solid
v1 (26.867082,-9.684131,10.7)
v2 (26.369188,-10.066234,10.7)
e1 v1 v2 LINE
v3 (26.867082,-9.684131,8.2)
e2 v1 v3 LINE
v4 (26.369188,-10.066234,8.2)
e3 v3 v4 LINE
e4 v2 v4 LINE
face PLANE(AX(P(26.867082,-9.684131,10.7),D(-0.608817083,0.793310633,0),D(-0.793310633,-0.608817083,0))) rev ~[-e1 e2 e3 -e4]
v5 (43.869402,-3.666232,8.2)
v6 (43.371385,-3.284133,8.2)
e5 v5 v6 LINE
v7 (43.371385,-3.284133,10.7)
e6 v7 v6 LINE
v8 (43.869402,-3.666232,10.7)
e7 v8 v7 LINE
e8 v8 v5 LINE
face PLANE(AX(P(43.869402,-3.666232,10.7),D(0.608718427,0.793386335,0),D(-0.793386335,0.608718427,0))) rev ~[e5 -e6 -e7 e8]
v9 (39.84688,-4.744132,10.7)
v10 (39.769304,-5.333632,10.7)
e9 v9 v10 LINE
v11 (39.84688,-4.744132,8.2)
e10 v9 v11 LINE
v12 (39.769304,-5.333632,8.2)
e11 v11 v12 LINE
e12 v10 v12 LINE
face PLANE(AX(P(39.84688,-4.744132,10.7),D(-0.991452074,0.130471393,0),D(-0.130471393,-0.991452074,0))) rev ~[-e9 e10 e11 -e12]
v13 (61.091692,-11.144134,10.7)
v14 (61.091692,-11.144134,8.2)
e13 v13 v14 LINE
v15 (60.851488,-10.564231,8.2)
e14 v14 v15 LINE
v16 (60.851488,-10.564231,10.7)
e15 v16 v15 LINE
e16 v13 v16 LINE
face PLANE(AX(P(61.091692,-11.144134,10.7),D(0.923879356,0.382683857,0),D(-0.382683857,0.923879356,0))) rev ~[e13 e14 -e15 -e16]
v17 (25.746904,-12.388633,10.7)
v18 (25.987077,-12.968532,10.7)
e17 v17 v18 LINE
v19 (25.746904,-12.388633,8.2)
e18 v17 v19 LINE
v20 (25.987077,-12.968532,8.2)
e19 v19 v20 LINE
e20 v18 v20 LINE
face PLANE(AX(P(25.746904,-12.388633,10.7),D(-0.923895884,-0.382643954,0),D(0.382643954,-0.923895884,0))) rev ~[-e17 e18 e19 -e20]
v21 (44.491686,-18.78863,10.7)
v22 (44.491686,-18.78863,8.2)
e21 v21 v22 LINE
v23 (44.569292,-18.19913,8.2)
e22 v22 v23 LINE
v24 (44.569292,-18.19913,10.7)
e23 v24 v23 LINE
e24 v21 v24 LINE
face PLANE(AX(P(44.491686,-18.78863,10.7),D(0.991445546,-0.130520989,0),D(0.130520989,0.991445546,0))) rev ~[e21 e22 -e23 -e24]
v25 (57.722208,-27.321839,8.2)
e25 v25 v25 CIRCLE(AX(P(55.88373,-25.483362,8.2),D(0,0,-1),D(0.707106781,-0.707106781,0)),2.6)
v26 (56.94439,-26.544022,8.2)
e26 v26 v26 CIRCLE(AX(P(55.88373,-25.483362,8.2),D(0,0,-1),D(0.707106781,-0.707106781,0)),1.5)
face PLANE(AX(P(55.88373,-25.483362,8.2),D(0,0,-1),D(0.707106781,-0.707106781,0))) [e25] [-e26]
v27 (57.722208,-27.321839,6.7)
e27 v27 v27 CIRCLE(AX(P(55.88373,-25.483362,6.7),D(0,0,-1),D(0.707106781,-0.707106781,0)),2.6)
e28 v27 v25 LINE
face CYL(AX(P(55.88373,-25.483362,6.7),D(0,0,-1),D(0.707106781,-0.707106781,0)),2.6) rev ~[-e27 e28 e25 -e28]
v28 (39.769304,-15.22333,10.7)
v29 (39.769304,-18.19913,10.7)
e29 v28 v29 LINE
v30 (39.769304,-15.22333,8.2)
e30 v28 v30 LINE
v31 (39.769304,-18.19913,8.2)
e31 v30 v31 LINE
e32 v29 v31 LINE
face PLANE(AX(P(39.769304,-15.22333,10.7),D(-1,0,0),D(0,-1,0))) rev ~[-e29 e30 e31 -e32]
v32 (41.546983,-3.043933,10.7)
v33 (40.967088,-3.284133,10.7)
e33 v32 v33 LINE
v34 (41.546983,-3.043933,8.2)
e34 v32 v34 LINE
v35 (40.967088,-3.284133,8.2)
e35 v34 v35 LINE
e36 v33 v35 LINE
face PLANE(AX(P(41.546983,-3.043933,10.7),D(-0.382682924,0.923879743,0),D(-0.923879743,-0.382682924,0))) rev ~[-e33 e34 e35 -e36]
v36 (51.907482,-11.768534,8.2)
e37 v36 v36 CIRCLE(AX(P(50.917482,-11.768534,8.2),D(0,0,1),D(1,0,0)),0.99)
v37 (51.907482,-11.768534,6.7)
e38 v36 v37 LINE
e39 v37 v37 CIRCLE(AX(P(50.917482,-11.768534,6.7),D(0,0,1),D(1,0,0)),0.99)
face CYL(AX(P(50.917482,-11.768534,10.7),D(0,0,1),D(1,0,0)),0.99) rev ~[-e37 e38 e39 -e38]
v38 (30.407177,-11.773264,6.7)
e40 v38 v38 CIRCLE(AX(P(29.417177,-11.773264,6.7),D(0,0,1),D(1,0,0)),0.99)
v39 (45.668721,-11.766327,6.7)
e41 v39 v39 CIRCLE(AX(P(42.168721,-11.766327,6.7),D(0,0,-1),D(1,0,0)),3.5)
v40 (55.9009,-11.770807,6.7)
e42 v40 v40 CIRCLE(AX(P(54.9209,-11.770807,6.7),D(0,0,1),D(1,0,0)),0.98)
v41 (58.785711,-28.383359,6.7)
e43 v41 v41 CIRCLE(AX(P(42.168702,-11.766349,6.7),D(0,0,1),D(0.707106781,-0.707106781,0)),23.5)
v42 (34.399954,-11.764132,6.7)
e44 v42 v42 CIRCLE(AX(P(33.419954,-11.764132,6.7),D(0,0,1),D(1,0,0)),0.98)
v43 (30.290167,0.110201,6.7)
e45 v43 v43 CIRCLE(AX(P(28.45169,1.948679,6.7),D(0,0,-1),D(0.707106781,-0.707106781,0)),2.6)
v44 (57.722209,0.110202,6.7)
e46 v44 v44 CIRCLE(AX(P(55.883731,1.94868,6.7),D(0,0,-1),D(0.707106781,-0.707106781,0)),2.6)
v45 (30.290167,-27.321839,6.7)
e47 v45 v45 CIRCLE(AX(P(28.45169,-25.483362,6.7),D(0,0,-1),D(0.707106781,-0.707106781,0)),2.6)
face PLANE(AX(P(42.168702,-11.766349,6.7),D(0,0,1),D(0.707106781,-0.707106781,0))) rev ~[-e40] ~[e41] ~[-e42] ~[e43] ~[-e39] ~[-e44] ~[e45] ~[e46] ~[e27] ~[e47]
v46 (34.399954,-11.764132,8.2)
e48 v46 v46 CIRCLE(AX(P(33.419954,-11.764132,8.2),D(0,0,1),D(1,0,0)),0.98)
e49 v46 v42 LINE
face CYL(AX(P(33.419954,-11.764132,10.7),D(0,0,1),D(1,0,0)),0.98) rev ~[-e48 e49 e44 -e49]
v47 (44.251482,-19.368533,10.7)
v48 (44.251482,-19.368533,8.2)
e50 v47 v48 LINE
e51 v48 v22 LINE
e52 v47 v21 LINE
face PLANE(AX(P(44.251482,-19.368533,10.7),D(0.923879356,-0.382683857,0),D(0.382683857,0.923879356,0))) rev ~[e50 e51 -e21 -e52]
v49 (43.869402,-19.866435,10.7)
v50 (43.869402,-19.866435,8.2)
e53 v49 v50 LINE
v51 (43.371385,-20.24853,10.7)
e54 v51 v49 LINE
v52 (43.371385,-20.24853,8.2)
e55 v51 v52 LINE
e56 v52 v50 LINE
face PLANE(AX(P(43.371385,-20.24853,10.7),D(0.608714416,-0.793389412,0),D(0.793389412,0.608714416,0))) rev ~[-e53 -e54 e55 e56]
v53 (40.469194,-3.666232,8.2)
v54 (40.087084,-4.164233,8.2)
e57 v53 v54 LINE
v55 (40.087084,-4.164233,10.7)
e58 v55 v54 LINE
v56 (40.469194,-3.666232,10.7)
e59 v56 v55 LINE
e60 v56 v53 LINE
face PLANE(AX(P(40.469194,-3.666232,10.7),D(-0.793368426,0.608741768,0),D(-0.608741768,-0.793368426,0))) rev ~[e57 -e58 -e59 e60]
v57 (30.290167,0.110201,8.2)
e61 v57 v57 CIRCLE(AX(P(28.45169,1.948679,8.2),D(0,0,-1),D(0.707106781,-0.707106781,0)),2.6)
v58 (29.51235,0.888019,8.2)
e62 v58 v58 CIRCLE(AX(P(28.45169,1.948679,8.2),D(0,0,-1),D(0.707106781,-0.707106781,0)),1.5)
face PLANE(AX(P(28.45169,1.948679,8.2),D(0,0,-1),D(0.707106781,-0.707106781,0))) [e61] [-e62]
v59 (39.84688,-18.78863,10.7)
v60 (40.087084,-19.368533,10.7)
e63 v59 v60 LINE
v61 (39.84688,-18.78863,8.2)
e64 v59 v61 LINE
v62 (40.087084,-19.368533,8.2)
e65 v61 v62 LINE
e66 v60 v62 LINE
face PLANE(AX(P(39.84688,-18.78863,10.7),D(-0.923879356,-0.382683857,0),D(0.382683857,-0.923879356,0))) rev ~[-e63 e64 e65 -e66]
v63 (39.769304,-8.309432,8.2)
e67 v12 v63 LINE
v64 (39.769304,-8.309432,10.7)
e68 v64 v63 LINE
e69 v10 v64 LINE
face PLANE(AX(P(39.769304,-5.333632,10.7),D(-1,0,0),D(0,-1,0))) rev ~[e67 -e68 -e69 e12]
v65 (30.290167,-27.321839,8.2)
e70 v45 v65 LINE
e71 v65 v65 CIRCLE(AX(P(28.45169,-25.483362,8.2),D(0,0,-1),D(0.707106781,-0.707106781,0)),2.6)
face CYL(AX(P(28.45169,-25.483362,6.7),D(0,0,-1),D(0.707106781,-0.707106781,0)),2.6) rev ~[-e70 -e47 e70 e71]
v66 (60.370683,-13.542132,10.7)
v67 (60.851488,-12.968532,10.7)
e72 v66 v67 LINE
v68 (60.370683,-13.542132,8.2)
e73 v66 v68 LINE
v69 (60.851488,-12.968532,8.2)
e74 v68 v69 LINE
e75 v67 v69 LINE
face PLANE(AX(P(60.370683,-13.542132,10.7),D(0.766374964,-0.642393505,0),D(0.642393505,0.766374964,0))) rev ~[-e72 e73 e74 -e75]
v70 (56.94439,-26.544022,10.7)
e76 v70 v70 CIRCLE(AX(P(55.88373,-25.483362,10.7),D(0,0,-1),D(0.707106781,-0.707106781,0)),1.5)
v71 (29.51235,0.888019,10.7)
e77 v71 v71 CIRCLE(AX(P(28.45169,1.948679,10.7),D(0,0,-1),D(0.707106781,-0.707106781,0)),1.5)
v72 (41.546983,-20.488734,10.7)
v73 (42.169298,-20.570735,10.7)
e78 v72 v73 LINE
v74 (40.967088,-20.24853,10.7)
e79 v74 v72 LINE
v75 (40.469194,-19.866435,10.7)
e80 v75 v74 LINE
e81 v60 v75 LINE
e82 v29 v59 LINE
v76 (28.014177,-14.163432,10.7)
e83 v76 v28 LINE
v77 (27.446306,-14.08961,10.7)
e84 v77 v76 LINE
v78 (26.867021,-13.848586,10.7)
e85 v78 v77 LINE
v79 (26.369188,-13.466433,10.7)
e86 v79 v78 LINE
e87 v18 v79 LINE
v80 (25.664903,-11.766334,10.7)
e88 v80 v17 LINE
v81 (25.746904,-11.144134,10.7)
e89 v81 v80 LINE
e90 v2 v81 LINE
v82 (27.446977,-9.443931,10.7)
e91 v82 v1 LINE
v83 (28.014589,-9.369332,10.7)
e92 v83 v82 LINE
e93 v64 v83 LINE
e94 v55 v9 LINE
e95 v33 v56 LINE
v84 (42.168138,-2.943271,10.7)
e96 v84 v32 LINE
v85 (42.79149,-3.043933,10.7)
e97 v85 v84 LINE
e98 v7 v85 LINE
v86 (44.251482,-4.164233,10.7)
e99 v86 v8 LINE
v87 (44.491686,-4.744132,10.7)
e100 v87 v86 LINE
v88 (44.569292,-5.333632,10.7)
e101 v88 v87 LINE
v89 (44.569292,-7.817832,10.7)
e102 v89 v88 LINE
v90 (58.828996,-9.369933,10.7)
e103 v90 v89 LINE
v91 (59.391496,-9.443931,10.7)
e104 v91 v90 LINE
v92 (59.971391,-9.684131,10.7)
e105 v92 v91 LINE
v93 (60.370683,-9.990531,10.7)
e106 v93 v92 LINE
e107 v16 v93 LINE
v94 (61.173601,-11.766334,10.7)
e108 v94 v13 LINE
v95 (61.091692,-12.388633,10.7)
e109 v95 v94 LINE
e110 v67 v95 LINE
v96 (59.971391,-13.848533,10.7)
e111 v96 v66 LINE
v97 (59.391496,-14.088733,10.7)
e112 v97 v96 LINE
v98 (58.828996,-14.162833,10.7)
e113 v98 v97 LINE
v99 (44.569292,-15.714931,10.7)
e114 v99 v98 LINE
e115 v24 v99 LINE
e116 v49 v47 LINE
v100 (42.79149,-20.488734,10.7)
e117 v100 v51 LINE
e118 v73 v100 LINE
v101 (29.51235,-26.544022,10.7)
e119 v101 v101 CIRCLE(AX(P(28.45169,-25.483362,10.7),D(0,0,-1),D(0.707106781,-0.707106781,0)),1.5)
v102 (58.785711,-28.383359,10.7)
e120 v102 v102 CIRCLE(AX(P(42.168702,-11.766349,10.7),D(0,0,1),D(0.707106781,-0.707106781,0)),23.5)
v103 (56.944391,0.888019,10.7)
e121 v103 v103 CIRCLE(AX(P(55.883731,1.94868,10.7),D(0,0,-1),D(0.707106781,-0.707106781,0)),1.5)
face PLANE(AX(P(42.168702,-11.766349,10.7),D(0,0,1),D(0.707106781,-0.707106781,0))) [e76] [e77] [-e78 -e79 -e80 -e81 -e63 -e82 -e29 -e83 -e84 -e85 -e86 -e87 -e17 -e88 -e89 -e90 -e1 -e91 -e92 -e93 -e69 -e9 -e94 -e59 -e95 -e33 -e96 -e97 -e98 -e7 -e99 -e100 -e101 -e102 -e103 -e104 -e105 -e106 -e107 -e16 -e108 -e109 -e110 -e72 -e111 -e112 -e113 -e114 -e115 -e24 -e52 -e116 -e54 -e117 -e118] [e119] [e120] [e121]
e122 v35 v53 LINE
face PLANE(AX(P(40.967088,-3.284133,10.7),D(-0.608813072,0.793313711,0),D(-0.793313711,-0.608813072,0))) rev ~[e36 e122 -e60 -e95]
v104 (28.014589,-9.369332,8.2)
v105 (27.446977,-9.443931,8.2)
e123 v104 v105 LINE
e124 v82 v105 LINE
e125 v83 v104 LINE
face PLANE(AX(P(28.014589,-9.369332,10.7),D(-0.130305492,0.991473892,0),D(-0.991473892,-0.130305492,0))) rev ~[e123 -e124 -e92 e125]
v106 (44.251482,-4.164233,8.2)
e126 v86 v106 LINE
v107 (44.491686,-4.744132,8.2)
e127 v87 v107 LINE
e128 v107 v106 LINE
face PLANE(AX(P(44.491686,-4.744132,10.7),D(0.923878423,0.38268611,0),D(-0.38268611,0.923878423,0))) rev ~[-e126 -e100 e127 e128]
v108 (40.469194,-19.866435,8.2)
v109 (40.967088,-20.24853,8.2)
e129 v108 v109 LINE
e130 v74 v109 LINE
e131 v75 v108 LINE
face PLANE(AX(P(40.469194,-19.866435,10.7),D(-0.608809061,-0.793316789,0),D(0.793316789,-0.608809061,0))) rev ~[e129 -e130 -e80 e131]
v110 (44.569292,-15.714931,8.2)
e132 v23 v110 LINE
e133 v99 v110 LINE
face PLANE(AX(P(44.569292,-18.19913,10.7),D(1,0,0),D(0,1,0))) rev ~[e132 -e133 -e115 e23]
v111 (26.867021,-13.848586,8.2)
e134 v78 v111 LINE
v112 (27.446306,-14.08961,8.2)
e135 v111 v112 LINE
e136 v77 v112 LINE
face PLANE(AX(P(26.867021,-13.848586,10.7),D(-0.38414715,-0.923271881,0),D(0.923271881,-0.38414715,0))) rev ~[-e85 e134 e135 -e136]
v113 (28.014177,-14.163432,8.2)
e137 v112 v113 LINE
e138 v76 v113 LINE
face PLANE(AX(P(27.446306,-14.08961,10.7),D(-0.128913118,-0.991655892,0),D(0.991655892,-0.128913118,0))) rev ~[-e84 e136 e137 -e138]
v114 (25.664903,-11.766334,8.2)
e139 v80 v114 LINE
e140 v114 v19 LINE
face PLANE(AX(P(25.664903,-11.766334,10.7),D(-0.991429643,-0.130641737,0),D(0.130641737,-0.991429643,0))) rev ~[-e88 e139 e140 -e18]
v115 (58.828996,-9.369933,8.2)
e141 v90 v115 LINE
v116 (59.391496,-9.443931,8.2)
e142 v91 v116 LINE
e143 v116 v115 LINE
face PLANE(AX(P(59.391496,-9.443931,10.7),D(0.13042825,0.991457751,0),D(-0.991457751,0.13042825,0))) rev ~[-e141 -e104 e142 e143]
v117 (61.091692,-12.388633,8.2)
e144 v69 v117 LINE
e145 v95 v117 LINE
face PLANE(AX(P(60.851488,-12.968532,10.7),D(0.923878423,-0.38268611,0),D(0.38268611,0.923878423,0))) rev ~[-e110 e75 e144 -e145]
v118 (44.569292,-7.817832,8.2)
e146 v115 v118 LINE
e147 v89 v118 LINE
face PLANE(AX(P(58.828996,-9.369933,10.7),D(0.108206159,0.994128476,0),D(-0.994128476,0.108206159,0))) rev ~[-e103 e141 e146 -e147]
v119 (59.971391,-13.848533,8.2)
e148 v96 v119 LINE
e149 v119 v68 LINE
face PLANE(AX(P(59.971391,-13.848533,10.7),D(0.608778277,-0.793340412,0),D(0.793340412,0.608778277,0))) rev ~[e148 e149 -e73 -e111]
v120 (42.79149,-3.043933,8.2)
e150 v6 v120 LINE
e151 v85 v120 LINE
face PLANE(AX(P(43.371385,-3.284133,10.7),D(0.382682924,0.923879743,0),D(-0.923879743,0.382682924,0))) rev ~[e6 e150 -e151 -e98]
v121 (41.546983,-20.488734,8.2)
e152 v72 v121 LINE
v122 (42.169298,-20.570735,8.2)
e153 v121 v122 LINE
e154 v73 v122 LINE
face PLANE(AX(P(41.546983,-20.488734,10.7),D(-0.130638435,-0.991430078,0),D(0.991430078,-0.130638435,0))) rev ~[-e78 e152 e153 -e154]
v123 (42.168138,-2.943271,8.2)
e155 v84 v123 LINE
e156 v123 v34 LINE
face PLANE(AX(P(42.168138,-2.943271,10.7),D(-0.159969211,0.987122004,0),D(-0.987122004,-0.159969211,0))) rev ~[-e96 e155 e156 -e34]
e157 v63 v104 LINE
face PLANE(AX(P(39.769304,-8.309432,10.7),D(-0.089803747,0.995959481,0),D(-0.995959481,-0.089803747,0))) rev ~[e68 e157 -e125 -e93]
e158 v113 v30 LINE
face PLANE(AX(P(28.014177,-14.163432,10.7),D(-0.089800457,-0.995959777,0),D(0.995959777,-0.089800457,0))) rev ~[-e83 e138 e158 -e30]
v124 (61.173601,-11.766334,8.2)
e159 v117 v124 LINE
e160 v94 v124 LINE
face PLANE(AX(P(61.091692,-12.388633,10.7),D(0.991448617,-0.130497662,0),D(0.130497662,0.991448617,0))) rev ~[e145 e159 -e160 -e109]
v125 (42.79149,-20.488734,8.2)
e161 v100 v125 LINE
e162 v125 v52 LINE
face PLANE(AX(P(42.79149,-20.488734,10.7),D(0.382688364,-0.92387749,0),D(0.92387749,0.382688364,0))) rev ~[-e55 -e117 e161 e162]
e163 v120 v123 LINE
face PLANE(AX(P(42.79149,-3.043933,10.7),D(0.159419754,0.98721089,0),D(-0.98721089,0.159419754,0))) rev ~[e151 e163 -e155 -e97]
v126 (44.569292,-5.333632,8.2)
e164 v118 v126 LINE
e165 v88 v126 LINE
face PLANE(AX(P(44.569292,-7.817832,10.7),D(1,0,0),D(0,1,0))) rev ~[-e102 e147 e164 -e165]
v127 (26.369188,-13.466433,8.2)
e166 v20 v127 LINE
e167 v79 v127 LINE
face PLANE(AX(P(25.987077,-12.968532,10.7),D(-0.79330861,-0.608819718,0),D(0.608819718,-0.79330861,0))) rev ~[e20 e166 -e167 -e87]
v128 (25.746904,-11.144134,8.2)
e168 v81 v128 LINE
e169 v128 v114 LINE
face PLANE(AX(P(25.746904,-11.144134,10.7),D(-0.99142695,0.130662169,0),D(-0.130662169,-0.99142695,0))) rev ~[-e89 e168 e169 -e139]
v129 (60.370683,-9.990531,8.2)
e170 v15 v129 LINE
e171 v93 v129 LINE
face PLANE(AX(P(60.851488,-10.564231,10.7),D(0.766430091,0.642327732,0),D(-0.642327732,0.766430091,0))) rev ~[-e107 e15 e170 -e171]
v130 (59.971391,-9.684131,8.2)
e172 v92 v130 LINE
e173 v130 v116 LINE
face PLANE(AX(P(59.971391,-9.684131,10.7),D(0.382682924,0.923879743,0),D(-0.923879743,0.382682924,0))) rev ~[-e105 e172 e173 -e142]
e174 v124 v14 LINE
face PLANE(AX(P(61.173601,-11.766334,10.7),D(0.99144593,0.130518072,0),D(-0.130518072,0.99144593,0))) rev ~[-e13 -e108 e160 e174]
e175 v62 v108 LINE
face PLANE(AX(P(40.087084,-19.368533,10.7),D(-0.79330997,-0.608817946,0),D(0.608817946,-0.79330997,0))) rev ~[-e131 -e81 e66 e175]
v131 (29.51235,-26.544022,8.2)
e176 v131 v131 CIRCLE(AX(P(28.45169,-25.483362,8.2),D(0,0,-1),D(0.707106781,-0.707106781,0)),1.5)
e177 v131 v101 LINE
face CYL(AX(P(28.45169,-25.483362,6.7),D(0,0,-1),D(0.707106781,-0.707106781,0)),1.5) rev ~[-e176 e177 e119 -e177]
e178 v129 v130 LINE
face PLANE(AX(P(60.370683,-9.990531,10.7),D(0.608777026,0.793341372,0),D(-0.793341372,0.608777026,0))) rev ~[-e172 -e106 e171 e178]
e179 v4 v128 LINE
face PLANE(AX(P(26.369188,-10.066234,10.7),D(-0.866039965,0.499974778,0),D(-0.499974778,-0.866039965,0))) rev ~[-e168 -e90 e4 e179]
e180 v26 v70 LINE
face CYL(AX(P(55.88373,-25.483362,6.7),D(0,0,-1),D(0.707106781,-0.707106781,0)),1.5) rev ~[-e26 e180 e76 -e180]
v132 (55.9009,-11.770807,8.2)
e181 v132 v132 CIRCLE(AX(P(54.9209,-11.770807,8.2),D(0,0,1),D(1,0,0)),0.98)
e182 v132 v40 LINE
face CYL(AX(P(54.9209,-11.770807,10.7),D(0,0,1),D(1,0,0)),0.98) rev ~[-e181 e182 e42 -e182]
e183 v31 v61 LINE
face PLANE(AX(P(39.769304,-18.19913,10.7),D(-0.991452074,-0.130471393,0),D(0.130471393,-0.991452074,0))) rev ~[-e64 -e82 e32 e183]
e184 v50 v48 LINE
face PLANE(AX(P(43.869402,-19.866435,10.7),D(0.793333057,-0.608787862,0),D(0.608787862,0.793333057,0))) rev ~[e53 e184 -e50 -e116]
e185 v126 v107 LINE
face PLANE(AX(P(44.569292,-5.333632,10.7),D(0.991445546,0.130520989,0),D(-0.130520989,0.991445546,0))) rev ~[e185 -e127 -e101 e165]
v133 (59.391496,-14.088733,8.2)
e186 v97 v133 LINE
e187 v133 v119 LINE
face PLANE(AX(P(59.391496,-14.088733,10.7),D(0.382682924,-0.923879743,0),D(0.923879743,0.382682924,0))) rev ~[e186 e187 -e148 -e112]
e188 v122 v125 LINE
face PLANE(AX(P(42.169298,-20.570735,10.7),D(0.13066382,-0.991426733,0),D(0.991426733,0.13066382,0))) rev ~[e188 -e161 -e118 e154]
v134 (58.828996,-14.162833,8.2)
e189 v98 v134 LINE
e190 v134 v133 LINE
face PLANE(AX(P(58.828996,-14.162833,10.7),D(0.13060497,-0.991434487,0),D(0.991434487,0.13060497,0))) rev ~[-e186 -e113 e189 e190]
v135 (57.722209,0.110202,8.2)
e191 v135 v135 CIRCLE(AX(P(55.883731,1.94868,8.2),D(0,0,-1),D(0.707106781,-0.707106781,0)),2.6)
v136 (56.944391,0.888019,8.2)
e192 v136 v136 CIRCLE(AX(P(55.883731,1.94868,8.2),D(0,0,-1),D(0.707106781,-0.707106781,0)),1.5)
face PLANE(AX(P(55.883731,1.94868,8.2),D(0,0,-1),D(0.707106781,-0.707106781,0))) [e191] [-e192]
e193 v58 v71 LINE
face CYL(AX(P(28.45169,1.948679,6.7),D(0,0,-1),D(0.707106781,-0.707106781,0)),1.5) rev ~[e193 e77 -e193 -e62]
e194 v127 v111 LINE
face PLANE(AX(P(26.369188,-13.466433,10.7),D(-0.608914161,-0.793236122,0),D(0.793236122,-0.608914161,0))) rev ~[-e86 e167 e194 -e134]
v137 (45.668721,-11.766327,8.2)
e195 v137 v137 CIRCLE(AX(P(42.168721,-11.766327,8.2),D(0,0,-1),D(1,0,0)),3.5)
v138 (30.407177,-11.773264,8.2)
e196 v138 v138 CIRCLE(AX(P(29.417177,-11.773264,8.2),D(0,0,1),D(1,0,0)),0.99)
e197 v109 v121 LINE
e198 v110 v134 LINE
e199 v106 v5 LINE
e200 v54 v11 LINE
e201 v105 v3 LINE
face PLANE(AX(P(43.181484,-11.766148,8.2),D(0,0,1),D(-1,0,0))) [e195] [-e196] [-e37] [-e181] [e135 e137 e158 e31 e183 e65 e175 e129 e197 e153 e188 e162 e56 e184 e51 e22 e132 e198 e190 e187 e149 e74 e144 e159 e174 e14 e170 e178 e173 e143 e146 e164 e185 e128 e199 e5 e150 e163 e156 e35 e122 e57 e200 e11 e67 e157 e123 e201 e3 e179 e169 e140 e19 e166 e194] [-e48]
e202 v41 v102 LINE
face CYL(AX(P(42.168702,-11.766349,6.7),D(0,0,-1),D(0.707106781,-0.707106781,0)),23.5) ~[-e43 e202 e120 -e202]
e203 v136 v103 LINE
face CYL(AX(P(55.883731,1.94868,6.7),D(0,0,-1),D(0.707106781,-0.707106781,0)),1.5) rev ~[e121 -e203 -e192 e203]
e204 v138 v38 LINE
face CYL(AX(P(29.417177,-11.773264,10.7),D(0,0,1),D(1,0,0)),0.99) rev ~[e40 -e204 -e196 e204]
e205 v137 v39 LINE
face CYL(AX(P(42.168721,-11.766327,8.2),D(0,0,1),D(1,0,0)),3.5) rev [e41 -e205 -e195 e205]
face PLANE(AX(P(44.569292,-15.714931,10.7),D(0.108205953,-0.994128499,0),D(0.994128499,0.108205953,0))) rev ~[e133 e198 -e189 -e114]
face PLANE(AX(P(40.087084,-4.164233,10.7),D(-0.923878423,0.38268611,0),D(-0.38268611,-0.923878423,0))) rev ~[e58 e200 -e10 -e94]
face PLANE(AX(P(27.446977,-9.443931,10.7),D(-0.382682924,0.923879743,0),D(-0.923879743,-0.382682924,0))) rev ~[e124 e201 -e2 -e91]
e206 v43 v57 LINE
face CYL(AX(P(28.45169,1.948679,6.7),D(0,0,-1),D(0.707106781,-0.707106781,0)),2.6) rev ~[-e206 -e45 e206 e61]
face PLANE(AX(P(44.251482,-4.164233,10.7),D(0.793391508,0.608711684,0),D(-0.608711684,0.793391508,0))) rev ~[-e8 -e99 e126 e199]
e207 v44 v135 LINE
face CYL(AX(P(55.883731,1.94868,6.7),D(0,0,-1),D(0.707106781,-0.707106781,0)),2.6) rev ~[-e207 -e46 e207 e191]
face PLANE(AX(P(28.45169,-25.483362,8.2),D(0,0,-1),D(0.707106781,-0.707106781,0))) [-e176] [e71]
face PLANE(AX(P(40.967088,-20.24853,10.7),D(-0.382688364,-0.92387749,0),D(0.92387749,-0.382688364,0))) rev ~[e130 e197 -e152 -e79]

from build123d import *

# Parameters (mm, degrees)
CIRCLE001_R            = 0.99
EXTRUDE060_DEPTH       = 4
CIRCLE002_R            = 0.98
EXTRUDE059_DEPTH       = 4
CIRCLE003_R            = 0.99
EXTRUDE058_DEPTH       = 4
CIRCLE004_R            = 0.98
EXTRUDE057_DEPTH       = 4
CIRCLE051_R            = 3.5
EXTRUDE056_DEPTH       = 1.5
EXTRUDE055_DEPTH       = 2.5
CIRCLE049_R            = 2.6
EXTRUDE052_DEPTH       = 1.5
CIRCLE048_R            = 2.6
EXTRUDE051_DEPTH       = 1.5
CIRCLE047_R            = 2.6
EXTRUDE050_DEPTH       = 1.5
CIRCLE050_R            = 2.6
EXTRUDE049_DEPTH       = 1.5
CIRCLE045_R            = 1.5
EXTRUDE045_DEPTH       = 4
CIRCLE043_R            = 1.5
EXTRUDE046_DEPTH       = 4
CIRCLE046_R            = 1.5
EXTRUDE047_DEPTH       = 4
CIRCLE044_R            = 1.5
EXTRUDE048_DEPTH       = 4
CIRCLE040_R            = 23.5
EXTRUDE044_DEPTH       = 4
CUT015_PLACEMENT_ANGLE = 45
CUT018_PLACEMENT_ANGLE = 180


with BuildPart() as extrude060:
    # Circle001 → Extrude060 (new body)
    with BuildSketch(Plane(origin=(100.138196, 1.761986, -7), x_dir=(1, 0, 0), z_dir=(0, 0, -1))):
        Circle(CIRCLE001_R)
    extrude(amount=-EXTRUDE060_DEPTH)


with BuildPart() as extrude059:
    # Circle002 (on Circle) → Extrude059 (new body)
    with BuildSketch(Plane(origin=(104.140973, 1.752854, -7), x_dir=(1, 0, 0), z_dir=(0, 0, -1))):
        Circle(CIRCLE002_R)
    extrude(amount=-EXTRUDE059_DEPTH)


with BuildPart() as extrude058:
    # Circle003 (on Circle) → Extrude058 (new body)
    with BuildSketch(Plane(origin=(121.638501, 1.757256, -7), x_dir=(1, 0, 0), z_dir=(0, 0, -1))):
        Circle(CIRCLE003_R)
    extrude(amount=-EXTRUDE058_DEPTH)


with BuildPart() as extrude057:
    # Circle004 → Extrude057 (new body)
    with BuildSketch(Plane(origin=(125.641919, 1.759529, -7), x_dir=(1, 0, 0), z_dir=(0, 0, -1))):
        Circle(CIRCLE004_R)
    extrude(amount=-EXTRUDE057_DEPTH)


with BuildPart() as extrude056:
    # Circle051 → Extrude056 (new body)
    with BuildSketch(Plane(origin=(115.082764, -1.512482, 32.5), x_dir=(1, 0, 0), z_dir=(0, 0, 1))):
        Circle(CIRCLE051_R)
    extrude(amount=EXTRUDE056_DEPTH)


with BuildPart() as fusion016:
    # Wire001 → Extrude055 (new body)
    with BuildSketch(Plane(origin=(418.588715, 55.5117, 32.5), x_dir=(1, 0, 0), z_dir=(0, 0, 1))):
        Polygon((0, 0), (-11.754715, 1.0599), (-12.322327, 1.134499), (-12.902222, 1.374699), (-13.400116, 1.756802), (-14.0224, 2.834702), (-14.104401, 3.456902), (-14.0224, 4.079201), (-13.782227, 4.6591), (-13.400116, 5.157001), (-12.902283, 5.539154), (-12.322998, 5.780178), (-11.755127, 5.854), (0, 6.913898), (0, 9.889698), (0.077576, 10.479198), (0.31778, 11.059101), (0.69989, 11.557003), (1.197784, 11.939098), (1.777679, 12.179302), (2.399994, 12.261303), (3.022186, 12.179302), (3.602081, 11.939098), (4.100098, 11.557003), (4.482178, 11.059101), (4.722382, 10.479198), (4.799988, 9.889698), (4.799988, 7.405499), (19.059692, 5.853401), (19.622192, 5.779301), (20.202087, 5.539101), (20.601379, 5.2327), (21.082184, 4.6591), (21.322388, 4.079201), (21.404297, 3.456902), (21.322388, 2.834702), (21.082184, 2.254799), (20.601379, 1.681099), (20.202087, 1.374699), (19.622192, 1.134499), (19.059692, 1.060501), (4.799988, -0.4916), (4.799988, -2.9758), (4.722382, -3.5653), (4.482178, -4.145199), (4.100098, -4.6432), (3.602081, -5.025299), (3.022186, -5.265499), (2.398834, -5.366161), (1.777679, -5.265499), (1.197784, -5.025299), (0.69989, -4.6432), (0.31778, -4.145199), (0.077576, -3.5653), (0, -2.9758), align=None)
    extrude(amount=EXTRUDE055_DEPTH)


with BuildPart() as fusion016_1:
    # Extrude055 placement: moved
    add(fusion016.part.moved(Location((-305.905368, -60.481077, -2.5))))

    # Fusion015: union Extrude056
    add(extrude056.part)


with BuildPart() as fusion016_2:
    # Fusion015 placement: moved
    add(fusion016_1.part.moved(Location((-2.193024, 3.267531, -37))))

    # Fusion016: union Extrude060, Extrude059, Extrude058, Extrude057
    add(extrude060.part)
    add(extrude059.part)
    add(extrude058.part)
    add(extrude057.part)


with BuildPart() as fusion016_3:
    # Fusion016 placement: moved
    add(fusion016_2.part.moved(Location((-42.889772, -1.655092, 0))))


with BuildPart() as extrude052:
    # Circle049 → Extrude052 (new body)
    with BuildSketch(Plane(origin=(70, -19.29598, -3), x_dir=(1, 0, 0), z_dir=(0, 0, 1))):
        Circle(CIRCLE049_R)
    extrude(amount=-EXTRUDE052_DEPTH)


with BuildPart() as extrude051:
    # Circle048 → Extrude051 (new body)
    with BuildSketch(Plane(origin=(89.397382, 0.101403, -3), x_dir=(1, 0, 0), z_dir=(0, 0, 1))):
        Circle(CIRCLE048_R)
    extrude(amount=-EXTRUDE051_DEPTH)


with BuildPart() as extrude050:
    # Circle047 (on Cut) → Extrude050 (new body)
    with BuildSketch(Plane(origin=(70, 19.498785, -3), x_dir=(1, 0, 0), z_dir=(0, 0, 1))):
        Circle(CIRCLE047_R)
    extrude(amount=-EXTRUDE050_DEPTH)


with BuildPart() as extrude049:
    # Circle050 → Extrude049 (new body)
    with BuildSketch(Plane(origin=(50.602618, 0.101403, -3), x_dir=(1, 0, 0), z_dir=(0, 0, 1))):
        Circle(CIRCLE050_R)
    extrude(amount=-EXTRUDE049_DEPTH)


with BuildPart() as extrude045:
    # Circle045 → Extrude045 (new body)
    with BuildSketch(Plane(origin=(50.602618, 0.101403, -3), x_dir=(1, 0, 0), z_dir=(0, 0, 1))):
        Circle(CIRCLE045_R)
    extrude(amount=-EXTRUDE045_DEPTH)


with BuildPart() as extrude046:
    # Circle043 → Extrude046 (new body)
    with BuildSketch(Plane(origin=(70, 19.498785, -3), x_dir=(1, 0, 0), z_dir=(0, 0, 1))):
        Circle(CIRCLE043_R)
    extrude(amount=-EXTRUDE046_DEPTH)


with BuildPart() as extrude047:
    # Circle046 → Extrude047 (new body)
    with BuildSketch(Plane(origin=(89.397382, 0.101403, -3), x_dir=(1, 0, 0), z_dir=(0, 0, 1))):
        Circle(CIRCLE046_R)
    extrude(amount=-EXTRUDE047_DEPTH)


with BuildPart() as extrude048:
    # Circle044 → Extrude048 (new body)
    with BuildSketch(Plane(origin=(70, -19.29598, -3), x_dir=(1, 0, 0), z_dir=(0, 0, 1))):
        Circle(CIRCLE044_R)
    extrude(amount=-EXTRUDE048_DEPTH)


with BuildPart() as cut0_disk:
    # Circle040 (on Fusion) → Extrude044 (new body)
    with BuildSketch(Plane(origin=(70, 0.1, -3), x_dir=(1, 0, 0), z_dir=(0, 0, -1))):
        Circle(CIRCLE040_R)
    extrude(amount=EXTRUDE044_DEPTH)

    # Cut008: cut Extrude048
    add(extrude048.part, mode=Mode.SUBTRACT)

    # Cut009: cut Extrude047
    add(extrude047.part, mode=Mode.SUBTRACT)

    # Cut010: cut Extrude046
    add(extrude046.part, mode=Mode.SUBTRACT)

    # Cut011: cut Extrude045
    add(extrude045.part, mode=Mode.SUBTRACT)

    # Cut012: cut Extrude049
    add(extrude049.part, mode=Mode.SUBTRACT)

    # Cut013: cut Extrude050
    add(extrude050.part, mode=Mode.SUBTRACT)

    # Cut014: cut Extrude051
    add(extrude051.part, mode=Mode.SUBTRACT)

    # Cut015: cut Extrude052
    add(extrude052.part, mode=Mode.SUBTRACT)


with BuildPart() as cut0_disk_1:
    # Cut015 placement: moved
    add(cut0_disk.part.moved(Location((20.573185, -49.468206, 0))).rotate(Axis((20.573185, -49.468206, 0), (0, 0, 1)), CUT015_PLACEMENT_ANGLE))

    # Cut018: cut Fusion016
    add(fusion016_3.part, mode=Mode.SUBTRACT)


with BuildPart() as cut0_disk_2:
    # Cut018 placement: moved
    add(cut0_disk_1.part.moved(Location((-27.831247, -11.66637, 3.7))).rotate(Axis((-27.831247, -11.66637, 3.7), (1, 0, 0)), CUT018_PLACEMENT_ANGLE))


solid = cut0_disk_2.part
